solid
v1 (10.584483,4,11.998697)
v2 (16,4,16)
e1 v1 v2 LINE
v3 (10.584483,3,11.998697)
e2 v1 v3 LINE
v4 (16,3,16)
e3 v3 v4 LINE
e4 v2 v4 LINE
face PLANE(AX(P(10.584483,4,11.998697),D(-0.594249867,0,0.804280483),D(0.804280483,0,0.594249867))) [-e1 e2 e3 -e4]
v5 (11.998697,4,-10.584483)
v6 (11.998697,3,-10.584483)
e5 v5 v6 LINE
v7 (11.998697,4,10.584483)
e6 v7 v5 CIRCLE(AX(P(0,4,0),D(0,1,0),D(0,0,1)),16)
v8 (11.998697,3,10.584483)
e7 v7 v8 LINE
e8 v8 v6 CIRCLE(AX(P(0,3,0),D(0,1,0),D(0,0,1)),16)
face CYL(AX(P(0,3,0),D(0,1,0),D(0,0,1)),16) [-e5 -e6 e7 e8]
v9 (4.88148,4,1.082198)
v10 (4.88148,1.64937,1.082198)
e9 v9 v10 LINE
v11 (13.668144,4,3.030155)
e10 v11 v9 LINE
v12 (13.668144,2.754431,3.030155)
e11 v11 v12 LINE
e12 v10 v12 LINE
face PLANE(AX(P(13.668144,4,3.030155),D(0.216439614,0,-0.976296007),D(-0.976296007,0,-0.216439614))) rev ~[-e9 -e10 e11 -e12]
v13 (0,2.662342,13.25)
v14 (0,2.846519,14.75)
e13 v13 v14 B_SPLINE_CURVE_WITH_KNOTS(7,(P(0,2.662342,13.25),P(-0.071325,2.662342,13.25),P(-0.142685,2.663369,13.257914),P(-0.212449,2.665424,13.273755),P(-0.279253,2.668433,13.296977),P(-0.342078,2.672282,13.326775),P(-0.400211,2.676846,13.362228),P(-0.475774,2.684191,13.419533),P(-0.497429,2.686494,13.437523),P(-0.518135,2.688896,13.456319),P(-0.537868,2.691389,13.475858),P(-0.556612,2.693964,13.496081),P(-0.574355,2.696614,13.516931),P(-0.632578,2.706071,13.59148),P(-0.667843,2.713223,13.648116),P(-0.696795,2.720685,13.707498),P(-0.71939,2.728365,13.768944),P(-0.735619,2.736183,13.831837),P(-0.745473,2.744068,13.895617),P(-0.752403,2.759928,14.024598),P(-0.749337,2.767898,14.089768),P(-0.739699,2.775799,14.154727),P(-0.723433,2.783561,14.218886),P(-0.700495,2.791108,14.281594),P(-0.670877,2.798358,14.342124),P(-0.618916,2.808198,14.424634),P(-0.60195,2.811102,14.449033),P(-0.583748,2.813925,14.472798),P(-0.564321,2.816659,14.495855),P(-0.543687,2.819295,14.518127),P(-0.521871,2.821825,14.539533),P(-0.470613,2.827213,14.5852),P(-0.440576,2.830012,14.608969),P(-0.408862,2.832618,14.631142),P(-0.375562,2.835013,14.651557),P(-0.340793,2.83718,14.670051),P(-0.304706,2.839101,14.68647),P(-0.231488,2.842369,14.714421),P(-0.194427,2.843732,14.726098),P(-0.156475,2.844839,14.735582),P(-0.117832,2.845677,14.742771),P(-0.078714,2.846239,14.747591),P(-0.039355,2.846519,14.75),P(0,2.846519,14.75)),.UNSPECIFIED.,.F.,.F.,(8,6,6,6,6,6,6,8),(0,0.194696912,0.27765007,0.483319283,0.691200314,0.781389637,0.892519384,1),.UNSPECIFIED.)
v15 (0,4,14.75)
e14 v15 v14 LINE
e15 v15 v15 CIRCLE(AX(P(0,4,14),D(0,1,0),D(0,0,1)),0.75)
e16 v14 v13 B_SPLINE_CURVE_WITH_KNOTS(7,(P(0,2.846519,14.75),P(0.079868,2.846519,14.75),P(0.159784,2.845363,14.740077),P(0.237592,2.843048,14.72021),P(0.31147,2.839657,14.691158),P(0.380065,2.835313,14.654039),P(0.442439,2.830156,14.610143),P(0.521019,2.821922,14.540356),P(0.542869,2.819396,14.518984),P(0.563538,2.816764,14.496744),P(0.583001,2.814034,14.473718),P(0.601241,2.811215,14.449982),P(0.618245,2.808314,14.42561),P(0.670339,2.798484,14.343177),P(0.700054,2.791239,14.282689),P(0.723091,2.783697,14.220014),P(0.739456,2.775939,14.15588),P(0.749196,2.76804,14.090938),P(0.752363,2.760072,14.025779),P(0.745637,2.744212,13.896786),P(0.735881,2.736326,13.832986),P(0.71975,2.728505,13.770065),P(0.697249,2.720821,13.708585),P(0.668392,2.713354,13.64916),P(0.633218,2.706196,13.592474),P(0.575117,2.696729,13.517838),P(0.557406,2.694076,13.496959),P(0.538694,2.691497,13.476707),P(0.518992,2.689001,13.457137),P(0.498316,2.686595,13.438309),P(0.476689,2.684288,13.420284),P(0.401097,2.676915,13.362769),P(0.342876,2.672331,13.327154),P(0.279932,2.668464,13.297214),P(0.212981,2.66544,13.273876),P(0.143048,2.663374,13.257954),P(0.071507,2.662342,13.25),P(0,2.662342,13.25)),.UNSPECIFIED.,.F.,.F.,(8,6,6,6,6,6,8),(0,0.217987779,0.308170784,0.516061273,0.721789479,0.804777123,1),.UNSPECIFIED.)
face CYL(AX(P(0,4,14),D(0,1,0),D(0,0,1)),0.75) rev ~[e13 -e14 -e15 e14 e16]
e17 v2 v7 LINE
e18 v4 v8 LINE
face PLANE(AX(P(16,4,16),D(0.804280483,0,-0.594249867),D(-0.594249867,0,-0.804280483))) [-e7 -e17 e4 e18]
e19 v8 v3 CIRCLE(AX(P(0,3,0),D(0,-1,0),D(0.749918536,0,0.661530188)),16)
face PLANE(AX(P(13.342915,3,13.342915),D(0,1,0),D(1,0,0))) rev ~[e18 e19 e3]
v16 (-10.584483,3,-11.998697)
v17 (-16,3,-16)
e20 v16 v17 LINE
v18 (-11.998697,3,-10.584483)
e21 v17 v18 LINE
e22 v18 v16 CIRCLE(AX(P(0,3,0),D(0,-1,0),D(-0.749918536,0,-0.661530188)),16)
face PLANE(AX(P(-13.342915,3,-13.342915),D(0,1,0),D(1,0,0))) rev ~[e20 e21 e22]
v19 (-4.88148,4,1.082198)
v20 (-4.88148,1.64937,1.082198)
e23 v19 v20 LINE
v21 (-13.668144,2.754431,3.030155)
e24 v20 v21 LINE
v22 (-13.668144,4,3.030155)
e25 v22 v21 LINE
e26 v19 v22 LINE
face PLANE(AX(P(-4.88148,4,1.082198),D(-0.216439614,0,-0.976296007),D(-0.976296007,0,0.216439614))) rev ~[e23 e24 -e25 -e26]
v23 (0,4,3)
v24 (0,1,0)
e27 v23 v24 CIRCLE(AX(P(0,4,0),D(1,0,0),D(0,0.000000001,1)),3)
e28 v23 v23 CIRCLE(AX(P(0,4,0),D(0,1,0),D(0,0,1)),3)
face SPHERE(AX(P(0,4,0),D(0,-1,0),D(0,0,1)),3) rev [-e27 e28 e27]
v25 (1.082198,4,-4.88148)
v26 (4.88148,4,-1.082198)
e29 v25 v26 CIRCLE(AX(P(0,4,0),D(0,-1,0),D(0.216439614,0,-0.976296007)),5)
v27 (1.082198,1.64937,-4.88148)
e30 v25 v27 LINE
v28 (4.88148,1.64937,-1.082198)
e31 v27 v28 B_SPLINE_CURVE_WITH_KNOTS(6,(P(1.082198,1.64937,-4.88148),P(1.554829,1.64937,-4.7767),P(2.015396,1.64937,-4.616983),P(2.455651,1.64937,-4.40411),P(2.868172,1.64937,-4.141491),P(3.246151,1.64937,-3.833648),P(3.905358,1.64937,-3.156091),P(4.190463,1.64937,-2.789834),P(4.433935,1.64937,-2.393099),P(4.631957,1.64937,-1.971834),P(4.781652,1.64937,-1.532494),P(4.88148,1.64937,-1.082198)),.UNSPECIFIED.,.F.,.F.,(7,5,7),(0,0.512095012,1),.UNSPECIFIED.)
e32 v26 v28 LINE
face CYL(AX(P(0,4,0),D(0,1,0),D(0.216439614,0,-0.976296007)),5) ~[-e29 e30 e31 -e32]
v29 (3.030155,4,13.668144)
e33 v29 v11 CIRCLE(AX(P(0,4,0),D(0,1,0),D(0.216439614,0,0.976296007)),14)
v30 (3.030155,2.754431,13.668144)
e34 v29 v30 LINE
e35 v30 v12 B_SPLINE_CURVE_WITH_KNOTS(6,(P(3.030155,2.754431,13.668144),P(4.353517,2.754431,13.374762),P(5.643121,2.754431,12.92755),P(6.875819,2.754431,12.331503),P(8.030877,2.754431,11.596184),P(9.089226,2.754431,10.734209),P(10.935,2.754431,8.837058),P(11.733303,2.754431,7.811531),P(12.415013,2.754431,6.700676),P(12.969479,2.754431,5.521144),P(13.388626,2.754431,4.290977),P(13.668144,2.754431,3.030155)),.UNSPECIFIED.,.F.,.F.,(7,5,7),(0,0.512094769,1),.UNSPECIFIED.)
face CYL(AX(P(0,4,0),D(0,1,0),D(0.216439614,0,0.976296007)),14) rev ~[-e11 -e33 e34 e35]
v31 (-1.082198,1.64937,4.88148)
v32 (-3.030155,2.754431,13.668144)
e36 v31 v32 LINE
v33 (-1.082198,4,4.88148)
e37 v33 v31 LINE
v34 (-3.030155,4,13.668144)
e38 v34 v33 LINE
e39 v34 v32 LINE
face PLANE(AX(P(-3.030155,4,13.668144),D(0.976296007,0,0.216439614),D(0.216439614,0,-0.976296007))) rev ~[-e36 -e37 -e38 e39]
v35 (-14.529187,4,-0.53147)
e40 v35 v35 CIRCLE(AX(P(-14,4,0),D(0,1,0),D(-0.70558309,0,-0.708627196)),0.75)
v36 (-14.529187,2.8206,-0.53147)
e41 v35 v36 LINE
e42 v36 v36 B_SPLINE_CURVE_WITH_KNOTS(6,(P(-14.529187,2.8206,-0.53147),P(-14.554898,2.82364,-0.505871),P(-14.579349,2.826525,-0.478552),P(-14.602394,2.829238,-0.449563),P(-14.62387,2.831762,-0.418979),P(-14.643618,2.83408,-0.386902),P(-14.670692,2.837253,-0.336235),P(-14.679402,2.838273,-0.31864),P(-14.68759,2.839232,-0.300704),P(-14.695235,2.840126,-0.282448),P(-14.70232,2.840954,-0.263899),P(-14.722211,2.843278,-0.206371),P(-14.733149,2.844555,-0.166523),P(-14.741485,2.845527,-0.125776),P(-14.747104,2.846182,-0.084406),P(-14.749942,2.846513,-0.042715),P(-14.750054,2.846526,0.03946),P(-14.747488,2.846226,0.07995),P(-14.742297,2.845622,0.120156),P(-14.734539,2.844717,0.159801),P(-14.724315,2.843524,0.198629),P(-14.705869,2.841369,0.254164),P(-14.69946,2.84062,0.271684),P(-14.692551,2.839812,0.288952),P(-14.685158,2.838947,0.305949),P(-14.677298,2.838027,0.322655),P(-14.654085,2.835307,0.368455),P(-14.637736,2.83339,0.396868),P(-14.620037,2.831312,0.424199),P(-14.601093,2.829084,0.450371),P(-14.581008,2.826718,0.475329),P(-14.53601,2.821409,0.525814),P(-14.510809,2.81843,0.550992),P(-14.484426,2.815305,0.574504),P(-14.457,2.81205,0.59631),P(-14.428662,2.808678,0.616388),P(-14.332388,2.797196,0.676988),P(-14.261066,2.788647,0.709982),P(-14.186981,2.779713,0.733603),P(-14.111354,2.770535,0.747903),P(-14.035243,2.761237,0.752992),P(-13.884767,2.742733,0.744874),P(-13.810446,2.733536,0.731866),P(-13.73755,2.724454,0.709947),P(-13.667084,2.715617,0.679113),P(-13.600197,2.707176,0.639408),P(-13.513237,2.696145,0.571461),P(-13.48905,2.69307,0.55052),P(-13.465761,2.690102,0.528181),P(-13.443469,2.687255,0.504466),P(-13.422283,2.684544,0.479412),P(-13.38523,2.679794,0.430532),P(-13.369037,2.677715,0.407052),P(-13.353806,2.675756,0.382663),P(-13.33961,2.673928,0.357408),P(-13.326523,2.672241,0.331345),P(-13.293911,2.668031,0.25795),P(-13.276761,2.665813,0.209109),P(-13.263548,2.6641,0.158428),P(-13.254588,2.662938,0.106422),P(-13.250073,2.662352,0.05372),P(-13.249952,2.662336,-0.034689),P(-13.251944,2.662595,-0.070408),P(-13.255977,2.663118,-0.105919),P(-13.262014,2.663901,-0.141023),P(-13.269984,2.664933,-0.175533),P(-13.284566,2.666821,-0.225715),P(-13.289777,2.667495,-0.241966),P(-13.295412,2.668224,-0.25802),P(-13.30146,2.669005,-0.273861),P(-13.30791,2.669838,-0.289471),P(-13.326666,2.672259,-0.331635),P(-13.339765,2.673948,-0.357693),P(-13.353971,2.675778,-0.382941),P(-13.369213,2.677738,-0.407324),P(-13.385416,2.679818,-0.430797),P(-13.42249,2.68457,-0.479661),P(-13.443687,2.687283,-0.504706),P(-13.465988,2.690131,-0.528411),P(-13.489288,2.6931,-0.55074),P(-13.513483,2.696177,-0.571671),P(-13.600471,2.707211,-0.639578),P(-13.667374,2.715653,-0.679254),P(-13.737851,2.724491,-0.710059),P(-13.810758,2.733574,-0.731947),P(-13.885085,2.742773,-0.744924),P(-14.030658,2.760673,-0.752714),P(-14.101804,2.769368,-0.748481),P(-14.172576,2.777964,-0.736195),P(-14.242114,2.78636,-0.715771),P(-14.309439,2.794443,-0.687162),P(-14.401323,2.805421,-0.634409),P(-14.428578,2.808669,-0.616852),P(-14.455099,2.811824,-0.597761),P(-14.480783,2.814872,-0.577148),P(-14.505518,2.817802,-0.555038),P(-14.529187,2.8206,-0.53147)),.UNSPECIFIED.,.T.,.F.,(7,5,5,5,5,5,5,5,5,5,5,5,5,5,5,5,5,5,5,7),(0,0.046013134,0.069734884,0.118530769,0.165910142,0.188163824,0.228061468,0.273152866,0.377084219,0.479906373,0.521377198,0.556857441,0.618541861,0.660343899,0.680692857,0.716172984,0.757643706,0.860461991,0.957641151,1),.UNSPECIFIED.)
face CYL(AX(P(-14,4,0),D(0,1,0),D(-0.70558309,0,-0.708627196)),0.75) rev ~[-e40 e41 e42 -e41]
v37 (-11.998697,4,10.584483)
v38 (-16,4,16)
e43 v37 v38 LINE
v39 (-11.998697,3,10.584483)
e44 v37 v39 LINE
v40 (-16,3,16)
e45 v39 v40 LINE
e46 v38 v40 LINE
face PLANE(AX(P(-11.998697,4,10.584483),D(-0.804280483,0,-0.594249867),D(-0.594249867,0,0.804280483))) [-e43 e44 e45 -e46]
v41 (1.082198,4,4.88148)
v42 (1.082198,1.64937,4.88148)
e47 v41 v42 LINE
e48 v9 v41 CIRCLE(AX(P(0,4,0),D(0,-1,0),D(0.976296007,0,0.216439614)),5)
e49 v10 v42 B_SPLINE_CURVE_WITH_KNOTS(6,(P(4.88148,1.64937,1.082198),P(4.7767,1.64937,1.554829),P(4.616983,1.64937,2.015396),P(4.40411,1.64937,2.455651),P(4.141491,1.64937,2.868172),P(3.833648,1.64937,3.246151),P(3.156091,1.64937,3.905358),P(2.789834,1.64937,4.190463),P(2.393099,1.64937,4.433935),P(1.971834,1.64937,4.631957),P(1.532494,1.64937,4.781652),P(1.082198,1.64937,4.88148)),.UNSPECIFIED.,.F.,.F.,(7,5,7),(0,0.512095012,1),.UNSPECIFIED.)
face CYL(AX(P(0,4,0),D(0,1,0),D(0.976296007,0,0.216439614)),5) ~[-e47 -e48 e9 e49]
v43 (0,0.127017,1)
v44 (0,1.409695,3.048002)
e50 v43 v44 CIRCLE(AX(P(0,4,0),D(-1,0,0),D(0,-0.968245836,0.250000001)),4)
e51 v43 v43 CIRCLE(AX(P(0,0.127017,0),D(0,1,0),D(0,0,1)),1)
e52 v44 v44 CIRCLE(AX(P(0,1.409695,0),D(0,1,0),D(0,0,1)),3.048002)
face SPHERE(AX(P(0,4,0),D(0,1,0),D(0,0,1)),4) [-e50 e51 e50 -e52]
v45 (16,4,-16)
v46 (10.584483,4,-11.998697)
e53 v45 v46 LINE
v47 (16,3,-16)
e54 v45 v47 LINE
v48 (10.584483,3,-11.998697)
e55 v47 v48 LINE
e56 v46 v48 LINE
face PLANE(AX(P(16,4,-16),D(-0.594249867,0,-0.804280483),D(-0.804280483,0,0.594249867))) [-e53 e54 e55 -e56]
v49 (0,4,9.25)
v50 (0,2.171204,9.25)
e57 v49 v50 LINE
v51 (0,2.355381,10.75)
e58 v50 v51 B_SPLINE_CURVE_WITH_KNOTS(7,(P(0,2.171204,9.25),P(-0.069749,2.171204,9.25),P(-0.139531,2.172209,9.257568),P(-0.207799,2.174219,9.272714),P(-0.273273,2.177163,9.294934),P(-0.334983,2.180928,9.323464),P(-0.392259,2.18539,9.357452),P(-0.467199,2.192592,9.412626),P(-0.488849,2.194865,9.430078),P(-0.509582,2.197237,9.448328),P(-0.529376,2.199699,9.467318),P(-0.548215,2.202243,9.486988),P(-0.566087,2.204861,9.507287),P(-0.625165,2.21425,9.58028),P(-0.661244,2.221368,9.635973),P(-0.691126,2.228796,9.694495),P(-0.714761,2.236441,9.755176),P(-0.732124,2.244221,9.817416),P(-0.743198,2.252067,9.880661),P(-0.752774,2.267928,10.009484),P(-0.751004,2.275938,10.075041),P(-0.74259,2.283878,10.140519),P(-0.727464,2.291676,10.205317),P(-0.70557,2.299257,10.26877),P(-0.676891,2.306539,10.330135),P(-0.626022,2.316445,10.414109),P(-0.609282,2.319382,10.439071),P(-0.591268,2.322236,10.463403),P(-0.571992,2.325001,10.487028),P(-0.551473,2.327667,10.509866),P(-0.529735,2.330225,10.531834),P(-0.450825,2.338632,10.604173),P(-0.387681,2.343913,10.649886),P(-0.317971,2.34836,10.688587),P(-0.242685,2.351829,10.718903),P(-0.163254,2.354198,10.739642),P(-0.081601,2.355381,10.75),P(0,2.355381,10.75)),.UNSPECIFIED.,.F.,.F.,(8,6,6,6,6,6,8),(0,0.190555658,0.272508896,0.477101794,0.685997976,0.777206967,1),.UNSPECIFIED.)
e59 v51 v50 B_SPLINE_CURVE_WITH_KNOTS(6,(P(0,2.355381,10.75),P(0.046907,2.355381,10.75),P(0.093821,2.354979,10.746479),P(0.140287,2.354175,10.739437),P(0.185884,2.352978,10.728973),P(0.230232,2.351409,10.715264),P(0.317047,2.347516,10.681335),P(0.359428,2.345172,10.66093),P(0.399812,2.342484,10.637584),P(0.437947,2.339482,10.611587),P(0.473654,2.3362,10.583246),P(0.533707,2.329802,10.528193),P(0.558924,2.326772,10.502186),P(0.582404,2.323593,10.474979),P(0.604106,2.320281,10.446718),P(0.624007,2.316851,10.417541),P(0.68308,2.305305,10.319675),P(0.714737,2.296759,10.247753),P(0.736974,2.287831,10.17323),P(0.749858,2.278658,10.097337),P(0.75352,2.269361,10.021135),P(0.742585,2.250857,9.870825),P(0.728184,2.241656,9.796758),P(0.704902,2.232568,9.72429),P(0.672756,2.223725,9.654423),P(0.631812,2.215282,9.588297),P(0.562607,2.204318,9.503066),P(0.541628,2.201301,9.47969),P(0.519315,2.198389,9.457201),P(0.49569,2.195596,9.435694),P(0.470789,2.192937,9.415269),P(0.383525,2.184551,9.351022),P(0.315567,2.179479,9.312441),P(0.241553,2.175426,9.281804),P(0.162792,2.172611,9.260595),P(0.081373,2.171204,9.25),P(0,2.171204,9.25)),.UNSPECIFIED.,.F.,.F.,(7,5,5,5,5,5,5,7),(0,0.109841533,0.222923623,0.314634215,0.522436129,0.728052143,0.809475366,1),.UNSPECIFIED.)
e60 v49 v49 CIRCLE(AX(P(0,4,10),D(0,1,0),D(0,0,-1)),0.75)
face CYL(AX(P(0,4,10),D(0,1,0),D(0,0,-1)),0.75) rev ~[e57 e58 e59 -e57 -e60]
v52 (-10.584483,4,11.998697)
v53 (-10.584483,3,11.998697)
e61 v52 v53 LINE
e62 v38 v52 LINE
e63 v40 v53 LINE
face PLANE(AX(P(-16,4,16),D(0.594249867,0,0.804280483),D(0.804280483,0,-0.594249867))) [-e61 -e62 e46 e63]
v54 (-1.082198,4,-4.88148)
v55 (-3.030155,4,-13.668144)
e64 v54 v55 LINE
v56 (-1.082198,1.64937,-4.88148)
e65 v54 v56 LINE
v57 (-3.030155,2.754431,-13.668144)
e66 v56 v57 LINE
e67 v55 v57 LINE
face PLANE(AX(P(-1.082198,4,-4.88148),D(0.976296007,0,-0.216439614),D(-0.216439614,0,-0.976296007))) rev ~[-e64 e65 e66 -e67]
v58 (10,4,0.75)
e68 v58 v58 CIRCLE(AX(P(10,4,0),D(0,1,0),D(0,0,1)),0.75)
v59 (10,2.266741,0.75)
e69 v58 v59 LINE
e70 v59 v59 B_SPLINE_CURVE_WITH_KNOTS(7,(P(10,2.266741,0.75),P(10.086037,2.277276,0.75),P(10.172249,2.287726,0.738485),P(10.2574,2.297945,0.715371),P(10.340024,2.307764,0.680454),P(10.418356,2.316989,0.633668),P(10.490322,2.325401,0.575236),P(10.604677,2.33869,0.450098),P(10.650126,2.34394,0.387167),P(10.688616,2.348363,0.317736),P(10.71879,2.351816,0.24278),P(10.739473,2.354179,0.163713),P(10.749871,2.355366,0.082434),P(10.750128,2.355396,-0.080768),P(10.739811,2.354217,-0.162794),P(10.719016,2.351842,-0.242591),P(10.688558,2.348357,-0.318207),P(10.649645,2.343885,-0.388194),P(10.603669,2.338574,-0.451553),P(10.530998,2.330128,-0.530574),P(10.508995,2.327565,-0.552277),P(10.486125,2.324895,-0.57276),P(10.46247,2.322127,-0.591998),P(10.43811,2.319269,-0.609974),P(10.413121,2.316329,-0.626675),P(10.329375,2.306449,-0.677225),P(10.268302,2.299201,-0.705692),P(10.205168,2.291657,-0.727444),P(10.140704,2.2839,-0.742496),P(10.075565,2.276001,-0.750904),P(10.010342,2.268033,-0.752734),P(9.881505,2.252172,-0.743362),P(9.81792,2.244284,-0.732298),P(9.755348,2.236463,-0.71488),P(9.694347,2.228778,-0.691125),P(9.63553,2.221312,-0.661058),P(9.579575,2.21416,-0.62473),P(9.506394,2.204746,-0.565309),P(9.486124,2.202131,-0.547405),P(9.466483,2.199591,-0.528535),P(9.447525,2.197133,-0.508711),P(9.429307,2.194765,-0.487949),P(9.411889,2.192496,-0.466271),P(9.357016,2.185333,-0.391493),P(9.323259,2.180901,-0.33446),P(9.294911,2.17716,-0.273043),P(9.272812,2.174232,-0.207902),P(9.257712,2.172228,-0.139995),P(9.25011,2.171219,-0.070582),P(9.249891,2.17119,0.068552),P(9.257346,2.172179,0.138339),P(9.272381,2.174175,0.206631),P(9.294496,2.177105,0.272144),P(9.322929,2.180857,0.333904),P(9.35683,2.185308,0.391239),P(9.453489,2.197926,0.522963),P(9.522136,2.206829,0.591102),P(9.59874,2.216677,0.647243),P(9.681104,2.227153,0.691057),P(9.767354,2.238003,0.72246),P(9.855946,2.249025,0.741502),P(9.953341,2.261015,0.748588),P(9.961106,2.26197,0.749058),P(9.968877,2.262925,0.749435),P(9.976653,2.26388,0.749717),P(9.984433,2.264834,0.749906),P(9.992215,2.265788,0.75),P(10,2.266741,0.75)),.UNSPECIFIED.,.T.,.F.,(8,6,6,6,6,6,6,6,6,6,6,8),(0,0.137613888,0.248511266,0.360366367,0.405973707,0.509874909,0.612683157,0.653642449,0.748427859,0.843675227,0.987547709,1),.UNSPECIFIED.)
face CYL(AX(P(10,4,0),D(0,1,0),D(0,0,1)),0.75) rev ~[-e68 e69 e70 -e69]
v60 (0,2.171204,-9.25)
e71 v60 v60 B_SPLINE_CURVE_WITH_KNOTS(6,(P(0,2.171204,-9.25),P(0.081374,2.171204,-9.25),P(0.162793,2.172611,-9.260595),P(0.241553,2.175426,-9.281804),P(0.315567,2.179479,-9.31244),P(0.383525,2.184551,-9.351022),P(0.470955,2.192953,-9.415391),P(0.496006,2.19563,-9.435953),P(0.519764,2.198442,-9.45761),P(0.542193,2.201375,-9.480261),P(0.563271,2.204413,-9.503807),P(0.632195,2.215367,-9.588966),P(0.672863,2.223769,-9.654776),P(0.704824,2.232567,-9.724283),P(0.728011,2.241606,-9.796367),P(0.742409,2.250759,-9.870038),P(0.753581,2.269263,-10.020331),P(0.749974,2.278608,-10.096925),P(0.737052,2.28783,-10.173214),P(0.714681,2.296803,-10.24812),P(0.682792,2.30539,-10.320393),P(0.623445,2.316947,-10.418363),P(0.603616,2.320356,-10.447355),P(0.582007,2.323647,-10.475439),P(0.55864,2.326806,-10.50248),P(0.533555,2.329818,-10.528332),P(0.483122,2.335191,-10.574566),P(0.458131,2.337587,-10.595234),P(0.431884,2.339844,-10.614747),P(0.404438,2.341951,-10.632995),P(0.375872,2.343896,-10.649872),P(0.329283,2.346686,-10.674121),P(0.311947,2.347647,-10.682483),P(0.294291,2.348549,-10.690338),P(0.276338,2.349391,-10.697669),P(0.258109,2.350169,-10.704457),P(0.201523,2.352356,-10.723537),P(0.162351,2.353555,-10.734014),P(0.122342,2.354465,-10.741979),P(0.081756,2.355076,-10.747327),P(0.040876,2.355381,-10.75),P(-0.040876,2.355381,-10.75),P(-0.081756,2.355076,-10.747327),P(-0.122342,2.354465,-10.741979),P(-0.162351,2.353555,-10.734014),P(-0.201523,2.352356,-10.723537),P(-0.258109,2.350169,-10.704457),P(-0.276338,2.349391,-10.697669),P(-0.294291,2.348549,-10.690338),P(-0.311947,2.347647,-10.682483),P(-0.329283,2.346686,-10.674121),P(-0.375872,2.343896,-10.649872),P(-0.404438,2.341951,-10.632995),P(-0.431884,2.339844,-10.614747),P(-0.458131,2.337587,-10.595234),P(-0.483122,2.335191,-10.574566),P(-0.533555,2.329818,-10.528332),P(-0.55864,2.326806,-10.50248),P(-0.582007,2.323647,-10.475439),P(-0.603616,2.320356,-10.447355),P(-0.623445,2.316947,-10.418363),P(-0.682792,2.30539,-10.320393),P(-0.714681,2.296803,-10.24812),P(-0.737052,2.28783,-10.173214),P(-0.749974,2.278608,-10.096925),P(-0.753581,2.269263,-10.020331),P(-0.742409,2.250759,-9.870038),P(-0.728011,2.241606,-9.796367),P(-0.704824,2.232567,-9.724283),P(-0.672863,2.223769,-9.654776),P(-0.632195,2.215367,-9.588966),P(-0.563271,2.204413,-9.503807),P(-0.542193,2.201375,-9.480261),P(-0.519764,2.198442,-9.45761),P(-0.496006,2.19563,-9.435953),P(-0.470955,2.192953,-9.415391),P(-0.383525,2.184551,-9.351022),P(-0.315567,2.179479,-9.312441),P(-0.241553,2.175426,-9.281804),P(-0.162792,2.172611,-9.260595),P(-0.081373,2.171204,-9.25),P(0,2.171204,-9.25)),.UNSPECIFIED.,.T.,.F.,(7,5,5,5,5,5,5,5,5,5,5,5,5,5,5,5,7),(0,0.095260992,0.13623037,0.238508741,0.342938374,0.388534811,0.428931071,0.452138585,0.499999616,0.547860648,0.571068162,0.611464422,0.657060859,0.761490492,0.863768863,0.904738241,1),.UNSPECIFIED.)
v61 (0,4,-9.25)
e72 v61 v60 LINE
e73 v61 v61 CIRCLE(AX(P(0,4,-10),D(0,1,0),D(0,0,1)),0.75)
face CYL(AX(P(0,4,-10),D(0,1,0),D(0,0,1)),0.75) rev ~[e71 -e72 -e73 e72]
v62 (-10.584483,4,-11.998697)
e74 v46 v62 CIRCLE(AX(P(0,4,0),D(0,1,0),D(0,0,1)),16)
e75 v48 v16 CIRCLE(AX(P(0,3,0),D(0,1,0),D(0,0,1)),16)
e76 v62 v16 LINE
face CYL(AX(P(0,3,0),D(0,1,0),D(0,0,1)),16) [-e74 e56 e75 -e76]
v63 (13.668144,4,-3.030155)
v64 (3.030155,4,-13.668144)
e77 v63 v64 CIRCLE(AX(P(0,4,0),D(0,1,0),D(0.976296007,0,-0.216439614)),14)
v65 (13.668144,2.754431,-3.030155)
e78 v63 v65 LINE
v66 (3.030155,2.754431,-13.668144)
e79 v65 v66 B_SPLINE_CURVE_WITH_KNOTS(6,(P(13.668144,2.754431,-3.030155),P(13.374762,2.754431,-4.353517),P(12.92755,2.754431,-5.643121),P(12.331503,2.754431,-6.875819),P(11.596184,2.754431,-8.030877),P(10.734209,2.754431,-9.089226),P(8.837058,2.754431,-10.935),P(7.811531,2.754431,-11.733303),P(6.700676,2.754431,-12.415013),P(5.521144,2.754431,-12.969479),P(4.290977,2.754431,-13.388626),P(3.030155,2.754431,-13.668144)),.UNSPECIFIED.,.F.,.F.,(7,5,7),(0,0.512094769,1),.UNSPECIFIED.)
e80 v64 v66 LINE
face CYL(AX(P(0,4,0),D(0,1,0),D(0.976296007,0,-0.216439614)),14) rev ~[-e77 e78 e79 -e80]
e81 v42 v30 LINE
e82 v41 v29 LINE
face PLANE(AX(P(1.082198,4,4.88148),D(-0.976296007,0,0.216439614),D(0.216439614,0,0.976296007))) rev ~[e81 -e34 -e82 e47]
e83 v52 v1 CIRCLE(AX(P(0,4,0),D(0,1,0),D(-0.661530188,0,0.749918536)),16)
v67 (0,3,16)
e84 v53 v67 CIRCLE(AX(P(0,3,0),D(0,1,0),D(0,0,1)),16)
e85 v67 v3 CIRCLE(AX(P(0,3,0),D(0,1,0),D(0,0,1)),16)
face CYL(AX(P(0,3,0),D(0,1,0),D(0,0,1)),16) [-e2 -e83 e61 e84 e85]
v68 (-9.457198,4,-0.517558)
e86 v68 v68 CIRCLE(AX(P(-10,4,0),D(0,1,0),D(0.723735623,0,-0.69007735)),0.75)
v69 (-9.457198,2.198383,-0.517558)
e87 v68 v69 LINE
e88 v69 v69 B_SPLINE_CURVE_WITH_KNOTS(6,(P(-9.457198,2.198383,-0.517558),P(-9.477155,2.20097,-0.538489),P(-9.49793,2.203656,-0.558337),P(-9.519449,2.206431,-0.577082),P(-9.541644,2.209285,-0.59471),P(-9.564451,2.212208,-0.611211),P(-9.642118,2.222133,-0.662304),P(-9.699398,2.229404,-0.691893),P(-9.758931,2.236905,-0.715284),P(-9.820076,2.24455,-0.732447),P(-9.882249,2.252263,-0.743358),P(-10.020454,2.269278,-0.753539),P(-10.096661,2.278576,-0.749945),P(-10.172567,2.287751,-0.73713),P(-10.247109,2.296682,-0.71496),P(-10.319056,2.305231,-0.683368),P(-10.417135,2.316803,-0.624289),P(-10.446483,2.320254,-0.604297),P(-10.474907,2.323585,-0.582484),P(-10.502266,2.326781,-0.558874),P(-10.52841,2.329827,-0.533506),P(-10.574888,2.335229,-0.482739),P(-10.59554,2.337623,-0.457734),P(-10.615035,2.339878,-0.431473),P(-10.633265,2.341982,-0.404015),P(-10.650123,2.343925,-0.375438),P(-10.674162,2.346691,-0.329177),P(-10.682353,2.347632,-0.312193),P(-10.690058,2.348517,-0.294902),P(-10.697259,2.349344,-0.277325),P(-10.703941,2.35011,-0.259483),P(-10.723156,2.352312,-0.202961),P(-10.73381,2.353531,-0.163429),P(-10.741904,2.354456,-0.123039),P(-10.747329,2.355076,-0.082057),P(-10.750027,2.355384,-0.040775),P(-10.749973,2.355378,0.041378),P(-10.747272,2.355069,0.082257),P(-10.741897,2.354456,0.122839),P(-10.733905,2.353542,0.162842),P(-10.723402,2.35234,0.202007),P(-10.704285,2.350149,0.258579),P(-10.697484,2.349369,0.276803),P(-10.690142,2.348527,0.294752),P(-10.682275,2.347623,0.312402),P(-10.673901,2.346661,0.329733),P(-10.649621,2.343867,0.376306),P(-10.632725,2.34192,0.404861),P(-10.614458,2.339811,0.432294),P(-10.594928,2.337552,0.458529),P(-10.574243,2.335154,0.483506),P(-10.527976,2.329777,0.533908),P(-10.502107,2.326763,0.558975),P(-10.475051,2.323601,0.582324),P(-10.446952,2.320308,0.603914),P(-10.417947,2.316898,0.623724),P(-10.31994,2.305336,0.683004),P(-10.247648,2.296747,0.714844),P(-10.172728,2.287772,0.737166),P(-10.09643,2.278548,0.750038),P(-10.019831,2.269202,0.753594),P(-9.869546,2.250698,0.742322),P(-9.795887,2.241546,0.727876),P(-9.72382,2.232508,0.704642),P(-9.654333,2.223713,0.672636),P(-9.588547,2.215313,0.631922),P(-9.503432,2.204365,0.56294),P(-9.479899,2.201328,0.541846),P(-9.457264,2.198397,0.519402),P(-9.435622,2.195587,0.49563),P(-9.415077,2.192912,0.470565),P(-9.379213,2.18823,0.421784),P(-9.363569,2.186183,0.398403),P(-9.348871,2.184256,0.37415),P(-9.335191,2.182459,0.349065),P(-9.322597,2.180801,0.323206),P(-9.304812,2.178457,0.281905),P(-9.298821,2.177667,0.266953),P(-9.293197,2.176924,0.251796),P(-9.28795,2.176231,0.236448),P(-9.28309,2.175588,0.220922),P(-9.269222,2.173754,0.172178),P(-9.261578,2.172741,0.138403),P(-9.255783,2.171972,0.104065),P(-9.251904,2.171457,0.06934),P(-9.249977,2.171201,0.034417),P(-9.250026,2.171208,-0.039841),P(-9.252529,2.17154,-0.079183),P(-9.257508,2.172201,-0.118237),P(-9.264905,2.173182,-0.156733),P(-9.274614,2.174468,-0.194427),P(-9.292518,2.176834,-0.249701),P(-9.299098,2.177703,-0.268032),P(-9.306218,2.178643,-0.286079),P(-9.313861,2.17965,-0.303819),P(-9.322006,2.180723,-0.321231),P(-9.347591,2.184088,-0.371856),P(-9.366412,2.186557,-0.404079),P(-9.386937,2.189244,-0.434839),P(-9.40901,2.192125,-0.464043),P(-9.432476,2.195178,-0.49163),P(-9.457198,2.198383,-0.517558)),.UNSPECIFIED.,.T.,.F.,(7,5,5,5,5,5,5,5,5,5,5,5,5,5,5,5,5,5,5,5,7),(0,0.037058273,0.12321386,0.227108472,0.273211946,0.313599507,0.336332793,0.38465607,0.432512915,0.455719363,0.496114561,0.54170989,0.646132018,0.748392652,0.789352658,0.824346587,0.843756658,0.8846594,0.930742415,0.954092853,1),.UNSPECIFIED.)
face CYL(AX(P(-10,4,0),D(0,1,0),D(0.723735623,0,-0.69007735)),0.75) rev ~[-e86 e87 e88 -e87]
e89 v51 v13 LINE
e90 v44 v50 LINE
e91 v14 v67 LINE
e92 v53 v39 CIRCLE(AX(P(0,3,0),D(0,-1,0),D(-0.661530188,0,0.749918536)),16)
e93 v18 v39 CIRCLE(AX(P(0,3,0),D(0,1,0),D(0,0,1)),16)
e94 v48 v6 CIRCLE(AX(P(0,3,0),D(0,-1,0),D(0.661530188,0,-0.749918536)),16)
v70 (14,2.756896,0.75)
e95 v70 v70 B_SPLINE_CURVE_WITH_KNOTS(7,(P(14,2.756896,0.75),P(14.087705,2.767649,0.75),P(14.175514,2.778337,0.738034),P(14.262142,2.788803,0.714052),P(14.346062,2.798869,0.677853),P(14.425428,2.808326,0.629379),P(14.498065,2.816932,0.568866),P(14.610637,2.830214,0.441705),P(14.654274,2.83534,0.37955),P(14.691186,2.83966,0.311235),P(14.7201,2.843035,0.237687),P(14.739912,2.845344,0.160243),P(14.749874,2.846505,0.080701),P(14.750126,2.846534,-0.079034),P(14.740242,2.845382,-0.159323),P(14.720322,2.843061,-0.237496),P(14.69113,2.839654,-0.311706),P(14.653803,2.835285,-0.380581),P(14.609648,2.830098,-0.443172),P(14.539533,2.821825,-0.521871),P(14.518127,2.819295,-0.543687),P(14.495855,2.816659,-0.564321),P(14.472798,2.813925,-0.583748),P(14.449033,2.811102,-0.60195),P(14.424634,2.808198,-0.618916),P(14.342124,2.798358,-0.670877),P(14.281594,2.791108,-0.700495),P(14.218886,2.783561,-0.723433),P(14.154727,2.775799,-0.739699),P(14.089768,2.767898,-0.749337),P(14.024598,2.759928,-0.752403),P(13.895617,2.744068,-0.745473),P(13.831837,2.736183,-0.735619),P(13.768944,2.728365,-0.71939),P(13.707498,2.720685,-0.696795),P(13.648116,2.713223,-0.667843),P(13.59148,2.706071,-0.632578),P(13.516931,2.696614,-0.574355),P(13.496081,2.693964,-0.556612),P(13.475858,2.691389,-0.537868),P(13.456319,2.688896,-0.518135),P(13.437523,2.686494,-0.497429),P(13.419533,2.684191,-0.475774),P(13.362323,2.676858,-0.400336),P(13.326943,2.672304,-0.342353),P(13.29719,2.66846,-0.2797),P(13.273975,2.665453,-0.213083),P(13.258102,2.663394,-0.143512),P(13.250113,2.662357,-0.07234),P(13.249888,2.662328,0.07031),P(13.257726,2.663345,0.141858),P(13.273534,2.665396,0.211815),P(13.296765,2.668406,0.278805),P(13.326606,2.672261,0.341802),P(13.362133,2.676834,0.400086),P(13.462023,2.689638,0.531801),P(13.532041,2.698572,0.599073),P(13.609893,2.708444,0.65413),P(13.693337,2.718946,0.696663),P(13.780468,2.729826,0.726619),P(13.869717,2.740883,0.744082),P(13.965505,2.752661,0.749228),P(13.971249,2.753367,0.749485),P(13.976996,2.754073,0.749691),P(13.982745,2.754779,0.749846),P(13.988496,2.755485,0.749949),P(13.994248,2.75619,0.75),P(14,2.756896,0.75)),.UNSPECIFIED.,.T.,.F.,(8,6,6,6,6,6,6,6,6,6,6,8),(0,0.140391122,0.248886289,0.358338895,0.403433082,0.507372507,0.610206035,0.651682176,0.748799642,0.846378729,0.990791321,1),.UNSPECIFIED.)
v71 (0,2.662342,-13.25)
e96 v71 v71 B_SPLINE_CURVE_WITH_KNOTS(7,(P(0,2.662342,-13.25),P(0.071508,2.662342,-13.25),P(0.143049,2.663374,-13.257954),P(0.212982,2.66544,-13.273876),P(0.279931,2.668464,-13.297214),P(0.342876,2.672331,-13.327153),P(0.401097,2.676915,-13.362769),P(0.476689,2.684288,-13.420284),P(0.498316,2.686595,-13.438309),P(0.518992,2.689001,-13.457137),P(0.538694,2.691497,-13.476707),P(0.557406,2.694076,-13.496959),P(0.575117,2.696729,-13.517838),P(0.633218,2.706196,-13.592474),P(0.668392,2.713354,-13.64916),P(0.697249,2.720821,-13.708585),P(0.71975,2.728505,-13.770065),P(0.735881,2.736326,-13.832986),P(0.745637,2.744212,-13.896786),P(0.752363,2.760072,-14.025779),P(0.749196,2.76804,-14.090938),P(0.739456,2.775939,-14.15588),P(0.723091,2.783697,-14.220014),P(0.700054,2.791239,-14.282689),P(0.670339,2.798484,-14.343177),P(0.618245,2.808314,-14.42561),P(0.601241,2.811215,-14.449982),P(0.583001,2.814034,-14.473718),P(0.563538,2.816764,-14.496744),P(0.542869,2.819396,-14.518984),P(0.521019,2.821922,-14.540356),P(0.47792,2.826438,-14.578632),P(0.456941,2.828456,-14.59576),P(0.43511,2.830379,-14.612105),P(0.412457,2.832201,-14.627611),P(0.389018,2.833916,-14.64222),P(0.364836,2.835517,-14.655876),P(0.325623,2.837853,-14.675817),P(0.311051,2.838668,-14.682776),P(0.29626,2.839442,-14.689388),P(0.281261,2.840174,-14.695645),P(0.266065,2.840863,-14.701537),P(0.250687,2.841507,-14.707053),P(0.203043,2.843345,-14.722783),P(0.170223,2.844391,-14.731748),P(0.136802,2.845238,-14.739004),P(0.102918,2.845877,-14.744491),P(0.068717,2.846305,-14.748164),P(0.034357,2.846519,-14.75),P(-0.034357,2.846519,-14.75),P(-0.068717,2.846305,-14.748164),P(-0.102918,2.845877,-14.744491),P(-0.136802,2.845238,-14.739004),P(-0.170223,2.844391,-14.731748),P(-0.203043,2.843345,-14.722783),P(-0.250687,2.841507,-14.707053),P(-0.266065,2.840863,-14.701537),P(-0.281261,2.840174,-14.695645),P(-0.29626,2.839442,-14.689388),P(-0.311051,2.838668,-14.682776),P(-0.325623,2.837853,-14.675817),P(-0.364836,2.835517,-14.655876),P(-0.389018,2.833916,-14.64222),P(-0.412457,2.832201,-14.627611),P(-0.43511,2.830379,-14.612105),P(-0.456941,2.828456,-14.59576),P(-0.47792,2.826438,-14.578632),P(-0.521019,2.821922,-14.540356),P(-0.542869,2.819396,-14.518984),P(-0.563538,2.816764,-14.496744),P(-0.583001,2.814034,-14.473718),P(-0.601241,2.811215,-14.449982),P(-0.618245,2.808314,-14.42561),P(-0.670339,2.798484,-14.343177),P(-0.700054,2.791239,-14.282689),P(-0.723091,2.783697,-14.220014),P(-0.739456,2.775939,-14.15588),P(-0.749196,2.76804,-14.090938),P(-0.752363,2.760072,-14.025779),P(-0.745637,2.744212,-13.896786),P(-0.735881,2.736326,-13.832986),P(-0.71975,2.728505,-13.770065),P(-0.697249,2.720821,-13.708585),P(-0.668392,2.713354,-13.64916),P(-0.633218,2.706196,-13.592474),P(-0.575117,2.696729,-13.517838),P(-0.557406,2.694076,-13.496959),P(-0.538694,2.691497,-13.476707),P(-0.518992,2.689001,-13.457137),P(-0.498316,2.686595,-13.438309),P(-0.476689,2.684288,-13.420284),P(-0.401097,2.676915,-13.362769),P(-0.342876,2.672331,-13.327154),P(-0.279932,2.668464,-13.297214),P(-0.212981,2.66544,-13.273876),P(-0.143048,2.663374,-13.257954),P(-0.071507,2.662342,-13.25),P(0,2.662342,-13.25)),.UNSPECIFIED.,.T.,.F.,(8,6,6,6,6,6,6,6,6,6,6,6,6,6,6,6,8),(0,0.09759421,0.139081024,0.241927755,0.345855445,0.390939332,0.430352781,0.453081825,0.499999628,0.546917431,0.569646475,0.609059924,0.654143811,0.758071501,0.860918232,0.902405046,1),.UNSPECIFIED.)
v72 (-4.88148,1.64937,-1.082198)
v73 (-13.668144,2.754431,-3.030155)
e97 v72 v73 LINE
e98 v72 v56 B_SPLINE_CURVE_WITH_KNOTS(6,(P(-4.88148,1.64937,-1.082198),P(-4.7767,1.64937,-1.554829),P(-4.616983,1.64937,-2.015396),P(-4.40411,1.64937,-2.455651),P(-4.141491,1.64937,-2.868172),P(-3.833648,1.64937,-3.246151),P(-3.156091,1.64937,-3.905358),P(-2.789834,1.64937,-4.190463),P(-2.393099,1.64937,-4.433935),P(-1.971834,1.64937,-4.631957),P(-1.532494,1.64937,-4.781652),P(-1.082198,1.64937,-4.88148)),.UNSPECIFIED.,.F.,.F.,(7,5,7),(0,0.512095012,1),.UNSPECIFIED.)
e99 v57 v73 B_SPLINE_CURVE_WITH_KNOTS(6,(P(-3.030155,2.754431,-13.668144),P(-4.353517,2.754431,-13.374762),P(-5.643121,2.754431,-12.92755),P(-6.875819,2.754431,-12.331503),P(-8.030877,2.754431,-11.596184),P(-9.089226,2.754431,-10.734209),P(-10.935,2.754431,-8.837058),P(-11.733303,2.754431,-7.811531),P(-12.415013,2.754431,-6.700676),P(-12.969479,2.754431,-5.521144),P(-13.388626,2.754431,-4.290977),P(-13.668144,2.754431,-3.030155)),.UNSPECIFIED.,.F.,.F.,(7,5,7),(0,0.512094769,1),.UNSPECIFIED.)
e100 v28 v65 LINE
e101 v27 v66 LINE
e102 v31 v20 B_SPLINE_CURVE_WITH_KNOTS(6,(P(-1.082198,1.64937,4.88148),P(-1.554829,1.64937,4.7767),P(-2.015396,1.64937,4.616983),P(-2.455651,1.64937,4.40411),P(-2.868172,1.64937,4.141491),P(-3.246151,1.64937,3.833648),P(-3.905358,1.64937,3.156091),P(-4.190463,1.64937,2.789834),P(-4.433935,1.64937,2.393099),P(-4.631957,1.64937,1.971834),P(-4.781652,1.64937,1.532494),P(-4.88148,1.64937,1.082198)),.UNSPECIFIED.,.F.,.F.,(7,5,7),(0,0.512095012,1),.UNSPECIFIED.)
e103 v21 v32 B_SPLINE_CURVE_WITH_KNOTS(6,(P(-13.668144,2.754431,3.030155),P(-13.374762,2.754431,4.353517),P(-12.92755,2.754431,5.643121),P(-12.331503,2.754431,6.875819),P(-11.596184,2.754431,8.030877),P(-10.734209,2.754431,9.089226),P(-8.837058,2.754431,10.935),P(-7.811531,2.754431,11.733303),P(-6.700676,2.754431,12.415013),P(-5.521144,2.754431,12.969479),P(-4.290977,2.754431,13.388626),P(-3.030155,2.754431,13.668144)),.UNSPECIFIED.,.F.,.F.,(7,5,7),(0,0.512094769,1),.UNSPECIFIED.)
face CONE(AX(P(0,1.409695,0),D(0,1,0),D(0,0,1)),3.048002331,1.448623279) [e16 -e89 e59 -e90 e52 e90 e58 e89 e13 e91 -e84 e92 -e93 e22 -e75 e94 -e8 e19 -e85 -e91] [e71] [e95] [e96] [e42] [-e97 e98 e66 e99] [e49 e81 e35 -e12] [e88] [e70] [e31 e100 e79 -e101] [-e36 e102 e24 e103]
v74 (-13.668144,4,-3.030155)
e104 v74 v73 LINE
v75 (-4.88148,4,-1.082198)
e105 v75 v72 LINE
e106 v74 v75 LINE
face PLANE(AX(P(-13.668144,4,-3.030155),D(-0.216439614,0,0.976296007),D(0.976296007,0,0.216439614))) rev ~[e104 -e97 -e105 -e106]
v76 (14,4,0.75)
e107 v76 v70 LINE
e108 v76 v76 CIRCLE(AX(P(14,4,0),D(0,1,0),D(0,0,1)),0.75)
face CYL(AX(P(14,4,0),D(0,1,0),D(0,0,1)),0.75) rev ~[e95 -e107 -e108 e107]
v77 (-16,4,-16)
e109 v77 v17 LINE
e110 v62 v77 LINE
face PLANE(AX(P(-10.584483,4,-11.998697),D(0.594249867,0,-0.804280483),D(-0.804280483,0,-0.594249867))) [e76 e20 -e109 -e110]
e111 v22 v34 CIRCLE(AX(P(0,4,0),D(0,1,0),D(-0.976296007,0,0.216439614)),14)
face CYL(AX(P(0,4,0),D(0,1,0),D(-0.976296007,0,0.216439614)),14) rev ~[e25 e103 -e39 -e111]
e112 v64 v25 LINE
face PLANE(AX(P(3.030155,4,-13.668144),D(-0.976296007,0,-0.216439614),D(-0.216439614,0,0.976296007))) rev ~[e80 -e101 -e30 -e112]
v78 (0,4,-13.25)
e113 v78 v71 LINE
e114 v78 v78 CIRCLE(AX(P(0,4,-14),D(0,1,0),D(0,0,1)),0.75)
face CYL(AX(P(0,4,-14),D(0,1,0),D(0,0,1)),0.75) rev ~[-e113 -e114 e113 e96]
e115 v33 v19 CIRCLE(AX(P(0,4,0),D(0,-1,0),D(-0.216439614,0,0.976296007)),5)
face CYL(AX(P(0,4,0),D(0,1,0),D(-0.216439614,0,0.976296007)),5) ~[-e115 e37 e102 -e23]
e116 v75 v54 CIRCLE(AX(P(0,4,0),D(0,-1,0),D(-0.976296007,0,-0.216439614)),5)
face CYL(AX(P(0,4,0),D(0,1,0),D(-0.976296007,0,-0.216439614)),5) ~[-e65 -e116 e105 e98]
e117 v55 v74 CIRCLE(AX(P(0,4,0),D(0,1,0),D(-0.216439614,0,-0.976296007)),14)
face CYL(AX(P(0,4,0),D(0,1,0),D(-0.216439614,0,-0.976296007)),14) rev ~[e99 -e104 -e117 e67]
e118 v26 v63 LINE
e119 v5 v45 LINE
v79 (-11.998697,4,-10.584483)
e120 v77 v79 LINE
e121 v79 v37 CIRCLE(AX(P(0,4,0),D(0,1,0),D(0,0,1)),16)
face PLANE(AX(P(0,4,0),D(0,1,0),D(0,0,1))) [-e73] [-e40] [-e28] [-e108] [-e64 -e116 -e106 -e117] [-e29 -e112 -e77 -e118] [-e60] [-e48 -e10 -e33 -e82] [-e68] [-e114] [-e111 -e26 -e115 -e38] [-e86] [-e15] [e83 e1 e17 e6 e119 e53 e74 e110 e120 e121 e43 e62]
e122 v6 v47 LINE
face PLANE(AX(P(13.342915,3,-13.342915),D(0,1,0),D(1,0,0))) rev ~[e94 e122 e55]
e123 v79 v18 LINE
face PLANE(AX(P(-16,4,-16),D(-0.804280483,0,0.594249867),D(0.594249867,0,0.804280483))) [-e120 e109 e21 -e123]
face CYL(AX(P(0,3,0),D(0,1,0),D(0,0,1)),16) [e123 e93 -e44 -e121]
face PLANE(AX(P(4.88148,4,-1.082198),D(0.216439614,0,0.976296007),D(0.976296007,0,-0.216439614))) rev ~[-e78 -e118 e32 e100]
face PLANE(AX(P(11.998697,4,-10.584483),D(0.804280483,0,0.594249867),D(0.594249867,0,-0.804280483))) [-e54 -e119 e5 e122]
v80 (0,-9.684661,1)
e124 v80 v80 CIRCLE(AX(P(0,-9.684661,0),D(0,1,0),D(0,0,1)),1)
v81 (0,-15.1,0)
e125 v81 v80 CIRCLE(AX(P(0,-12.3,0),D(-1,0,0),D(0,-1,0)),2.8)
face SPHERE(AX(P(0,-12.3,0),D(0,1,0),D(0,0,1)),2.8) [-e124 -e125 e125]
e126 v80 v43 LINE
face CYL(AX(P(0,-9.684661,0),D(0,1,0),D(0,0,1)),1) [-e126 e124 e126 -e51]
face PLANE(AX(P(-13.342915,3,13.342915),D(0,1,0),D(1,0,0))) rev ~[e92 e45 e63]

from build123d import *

# Parameters (mm, degrees)
SKETCH4_R           = 0.75
CUT_EXTRUDE2_DEPTH  = 4
BOSS_EXTRUDE2_DEPTH = 1


with BuildPart() as part:
    # Sketch1 → Revolve1 (revolve)
    with BuildSketch(Plane(origin=(0, 0, 0), x_dir=(0, 0, -1), z_dir=(1, 0, 0))):
        with BuildLine():
            ThreePointArc((-3, 4), (-2.121320344, 1.878679656), (0, 1))
            Line((0, 1), (0, 0))
            Line((0, 0), (0, -9.5))
            Line((0, -9.5), (0, -15.1))
            ThreePointArc((0, -15.1), (-2.753447859, -12.808453427), (-1, -9.684660634))
            Line((-1, -9.684660634), (-1, 0.127016654))
            ThreePointArc((-1, 0.127016654), (-2.123180734, 0.609999474), (-3.048002331, 1.409694653))
            Line((-3.048002331, 1.409694653), (-16, 3))
            Line((-16, 3), (-16, 4))
            Line((-16, 4), (-4, 4))
            Line((-4, 4), (-3, 4))
        make_face()
    revolve(axis=Axis((0, 10.634252877, 0), (0, 1, 0)))

    # Sketch4 → Cut-Extrude2 (cut)
    with BuildSketch(Plane(origin=(0, 4, 0), x_dir=(1, 0, 0), z_dir=(0, 1, 0))):
        with BuildLine():
            Line((-1.08219807, 4.881480036), (-3.030154595, 13.6681441))
            ThreePointArc((-3.030154595, 13.6681441), (-9.899494937, 9.899494937), (-13.6681441, 3.030154595))
            Line((-13.6681441, 3.030154595), (-4.881480036, 1.08219807))
            ThreePointArc((-4.881480036, 1.08219807), (-3.535533906, 3.535533906), (-1.08219807, 4.881480036))
        make_face()
        with BuildLine():
            Line((-4.881480036, -1.08219807), (-13.6681441, -3.030154595))
            ThreePointArc((-13.6681441, -3.030154595), (-9.899494937, -9.899494937), (-3.030154595, -13.6681441))
            Line((-3.030154595, -13.6681441), (-1.08219807, -4.881480036))
            ThreePointArc((-1.08219807, -4.881480036), (-3.535533906, -3.535533906), (-4.881480036, -1.08219807))
        make_face()
        with BuildLine():
            ThreePointArc((3.030154595, -13.6681441), (9.899494937, -9.899494937), (13.6681441, -3.030154595))
            Line((13.6681441, -3.030154595), (4.881480036, -1.08219807))
            ThreePointArc((4.881480036, -1.08219807), (3.535533906, -3.535533906), (1.08219807, -4.881480036))
            Line((1.08219807, -4.881480036), (3.030154595, -13.6681441))
        make_face()
        with BuildLine():
            ThreePointArc((13.6681441, 3.030154595), (9.899494937, 9.899494937), (3.030154595, 13.6681441))
            Line((3.030154595, 13.6681441), (1.08219807, 4.881480036))
            ThreePointArc((1.08219807, 4.881480036), (3.535533906, 3.535533906), (4.881480036, 1.08219807))
            Line((4.881480036, 1.08219807), (13.6681441, 3.030154595))
        make_face()
        with Locations(Location((-14, 0, 0), (0, 0, 134.876670286))):
            Circle(SKETCH4_R)
        with Locations(Location((-10, 0, 0), (0, 0, 43.63623207))):
            Circle(SKETCH4_R)
        with Locations(Location((0, 10, 0), (0, 0, 270))):
            Circle(SKETCH4_R)
        with Locations(Location((0, 14, 0), (0, 0, 270))):
            Circle(SKETCH4_R)
        with Locations(Location((0, -10, 0), (0, 0, 90))):
            Circle(SKETCH4_R)
        with Locations(Location((0, -14, 0), (0, 0, 270.000000015))):
            Circle(SKETCH4_R)
        with Locations(Location((10, 0, 0), (0, 0, 270))):
            Circle(SKETCH4_R)
        with Locations(Location((14, 0, 0), (0, 0, 270))):
            Circle(SKETCH4_R)
    extrude(amount=-CUT_EXTRUDE2_DEPTH, mode=Mode.SUBTRACT)

    # Sketch5 → Boss-Extrude2 (add)
    with BuildSketch(Plane(origin=(0, 4, 0), x_dir=(1, 0, 0), z_dir=(0, 1, 0))):
        with BuildLine():
            ThreePointArc((-11.998696572, 10.584483009), (-11.313708499, 11.313708499), (-10.584483009, 11.998696572))
            Line((-10.584483009, 11.998696572), (-16, 16))
            Line((-16, 16), (-11.998696572, 10.584483009))
        make_face()
        with BuildLine():
            Line((16, 16), (10.584483009, 11.998696572))
            ThreePointArc((10.584483009, 11.998696572), (11.313708499, 11.313708499), (11.998696572, 10.584483009))
            Line((11.998696572, 10.584483009), (16, 16))
        make_face()
        with BuildLine():
            ThreePointArc((11.998696572, -10.584483009), (11.313708499, -11.313708499), (10.584483009, -11.998696572))
            Line((10.584483009, -11.998696572), (16, -16))
            Line((16, -16), (11.998696572, -10.584483009))
        make_face()
        with BuildLine():
            ThreePointArc((-10.584483009, -11.998696572), (-11.313708499, -11.313708499), (-11.998696572, -10.584483009))
            Line((-11.998696572, -10.584483009), (-16, -16))
            Line((-16, -16), (-10.584483009, -11.998696572))
        make_face()
    extrude(amount=-BOSS_EXTRUDE2_DEPTH)


solid = part.part
